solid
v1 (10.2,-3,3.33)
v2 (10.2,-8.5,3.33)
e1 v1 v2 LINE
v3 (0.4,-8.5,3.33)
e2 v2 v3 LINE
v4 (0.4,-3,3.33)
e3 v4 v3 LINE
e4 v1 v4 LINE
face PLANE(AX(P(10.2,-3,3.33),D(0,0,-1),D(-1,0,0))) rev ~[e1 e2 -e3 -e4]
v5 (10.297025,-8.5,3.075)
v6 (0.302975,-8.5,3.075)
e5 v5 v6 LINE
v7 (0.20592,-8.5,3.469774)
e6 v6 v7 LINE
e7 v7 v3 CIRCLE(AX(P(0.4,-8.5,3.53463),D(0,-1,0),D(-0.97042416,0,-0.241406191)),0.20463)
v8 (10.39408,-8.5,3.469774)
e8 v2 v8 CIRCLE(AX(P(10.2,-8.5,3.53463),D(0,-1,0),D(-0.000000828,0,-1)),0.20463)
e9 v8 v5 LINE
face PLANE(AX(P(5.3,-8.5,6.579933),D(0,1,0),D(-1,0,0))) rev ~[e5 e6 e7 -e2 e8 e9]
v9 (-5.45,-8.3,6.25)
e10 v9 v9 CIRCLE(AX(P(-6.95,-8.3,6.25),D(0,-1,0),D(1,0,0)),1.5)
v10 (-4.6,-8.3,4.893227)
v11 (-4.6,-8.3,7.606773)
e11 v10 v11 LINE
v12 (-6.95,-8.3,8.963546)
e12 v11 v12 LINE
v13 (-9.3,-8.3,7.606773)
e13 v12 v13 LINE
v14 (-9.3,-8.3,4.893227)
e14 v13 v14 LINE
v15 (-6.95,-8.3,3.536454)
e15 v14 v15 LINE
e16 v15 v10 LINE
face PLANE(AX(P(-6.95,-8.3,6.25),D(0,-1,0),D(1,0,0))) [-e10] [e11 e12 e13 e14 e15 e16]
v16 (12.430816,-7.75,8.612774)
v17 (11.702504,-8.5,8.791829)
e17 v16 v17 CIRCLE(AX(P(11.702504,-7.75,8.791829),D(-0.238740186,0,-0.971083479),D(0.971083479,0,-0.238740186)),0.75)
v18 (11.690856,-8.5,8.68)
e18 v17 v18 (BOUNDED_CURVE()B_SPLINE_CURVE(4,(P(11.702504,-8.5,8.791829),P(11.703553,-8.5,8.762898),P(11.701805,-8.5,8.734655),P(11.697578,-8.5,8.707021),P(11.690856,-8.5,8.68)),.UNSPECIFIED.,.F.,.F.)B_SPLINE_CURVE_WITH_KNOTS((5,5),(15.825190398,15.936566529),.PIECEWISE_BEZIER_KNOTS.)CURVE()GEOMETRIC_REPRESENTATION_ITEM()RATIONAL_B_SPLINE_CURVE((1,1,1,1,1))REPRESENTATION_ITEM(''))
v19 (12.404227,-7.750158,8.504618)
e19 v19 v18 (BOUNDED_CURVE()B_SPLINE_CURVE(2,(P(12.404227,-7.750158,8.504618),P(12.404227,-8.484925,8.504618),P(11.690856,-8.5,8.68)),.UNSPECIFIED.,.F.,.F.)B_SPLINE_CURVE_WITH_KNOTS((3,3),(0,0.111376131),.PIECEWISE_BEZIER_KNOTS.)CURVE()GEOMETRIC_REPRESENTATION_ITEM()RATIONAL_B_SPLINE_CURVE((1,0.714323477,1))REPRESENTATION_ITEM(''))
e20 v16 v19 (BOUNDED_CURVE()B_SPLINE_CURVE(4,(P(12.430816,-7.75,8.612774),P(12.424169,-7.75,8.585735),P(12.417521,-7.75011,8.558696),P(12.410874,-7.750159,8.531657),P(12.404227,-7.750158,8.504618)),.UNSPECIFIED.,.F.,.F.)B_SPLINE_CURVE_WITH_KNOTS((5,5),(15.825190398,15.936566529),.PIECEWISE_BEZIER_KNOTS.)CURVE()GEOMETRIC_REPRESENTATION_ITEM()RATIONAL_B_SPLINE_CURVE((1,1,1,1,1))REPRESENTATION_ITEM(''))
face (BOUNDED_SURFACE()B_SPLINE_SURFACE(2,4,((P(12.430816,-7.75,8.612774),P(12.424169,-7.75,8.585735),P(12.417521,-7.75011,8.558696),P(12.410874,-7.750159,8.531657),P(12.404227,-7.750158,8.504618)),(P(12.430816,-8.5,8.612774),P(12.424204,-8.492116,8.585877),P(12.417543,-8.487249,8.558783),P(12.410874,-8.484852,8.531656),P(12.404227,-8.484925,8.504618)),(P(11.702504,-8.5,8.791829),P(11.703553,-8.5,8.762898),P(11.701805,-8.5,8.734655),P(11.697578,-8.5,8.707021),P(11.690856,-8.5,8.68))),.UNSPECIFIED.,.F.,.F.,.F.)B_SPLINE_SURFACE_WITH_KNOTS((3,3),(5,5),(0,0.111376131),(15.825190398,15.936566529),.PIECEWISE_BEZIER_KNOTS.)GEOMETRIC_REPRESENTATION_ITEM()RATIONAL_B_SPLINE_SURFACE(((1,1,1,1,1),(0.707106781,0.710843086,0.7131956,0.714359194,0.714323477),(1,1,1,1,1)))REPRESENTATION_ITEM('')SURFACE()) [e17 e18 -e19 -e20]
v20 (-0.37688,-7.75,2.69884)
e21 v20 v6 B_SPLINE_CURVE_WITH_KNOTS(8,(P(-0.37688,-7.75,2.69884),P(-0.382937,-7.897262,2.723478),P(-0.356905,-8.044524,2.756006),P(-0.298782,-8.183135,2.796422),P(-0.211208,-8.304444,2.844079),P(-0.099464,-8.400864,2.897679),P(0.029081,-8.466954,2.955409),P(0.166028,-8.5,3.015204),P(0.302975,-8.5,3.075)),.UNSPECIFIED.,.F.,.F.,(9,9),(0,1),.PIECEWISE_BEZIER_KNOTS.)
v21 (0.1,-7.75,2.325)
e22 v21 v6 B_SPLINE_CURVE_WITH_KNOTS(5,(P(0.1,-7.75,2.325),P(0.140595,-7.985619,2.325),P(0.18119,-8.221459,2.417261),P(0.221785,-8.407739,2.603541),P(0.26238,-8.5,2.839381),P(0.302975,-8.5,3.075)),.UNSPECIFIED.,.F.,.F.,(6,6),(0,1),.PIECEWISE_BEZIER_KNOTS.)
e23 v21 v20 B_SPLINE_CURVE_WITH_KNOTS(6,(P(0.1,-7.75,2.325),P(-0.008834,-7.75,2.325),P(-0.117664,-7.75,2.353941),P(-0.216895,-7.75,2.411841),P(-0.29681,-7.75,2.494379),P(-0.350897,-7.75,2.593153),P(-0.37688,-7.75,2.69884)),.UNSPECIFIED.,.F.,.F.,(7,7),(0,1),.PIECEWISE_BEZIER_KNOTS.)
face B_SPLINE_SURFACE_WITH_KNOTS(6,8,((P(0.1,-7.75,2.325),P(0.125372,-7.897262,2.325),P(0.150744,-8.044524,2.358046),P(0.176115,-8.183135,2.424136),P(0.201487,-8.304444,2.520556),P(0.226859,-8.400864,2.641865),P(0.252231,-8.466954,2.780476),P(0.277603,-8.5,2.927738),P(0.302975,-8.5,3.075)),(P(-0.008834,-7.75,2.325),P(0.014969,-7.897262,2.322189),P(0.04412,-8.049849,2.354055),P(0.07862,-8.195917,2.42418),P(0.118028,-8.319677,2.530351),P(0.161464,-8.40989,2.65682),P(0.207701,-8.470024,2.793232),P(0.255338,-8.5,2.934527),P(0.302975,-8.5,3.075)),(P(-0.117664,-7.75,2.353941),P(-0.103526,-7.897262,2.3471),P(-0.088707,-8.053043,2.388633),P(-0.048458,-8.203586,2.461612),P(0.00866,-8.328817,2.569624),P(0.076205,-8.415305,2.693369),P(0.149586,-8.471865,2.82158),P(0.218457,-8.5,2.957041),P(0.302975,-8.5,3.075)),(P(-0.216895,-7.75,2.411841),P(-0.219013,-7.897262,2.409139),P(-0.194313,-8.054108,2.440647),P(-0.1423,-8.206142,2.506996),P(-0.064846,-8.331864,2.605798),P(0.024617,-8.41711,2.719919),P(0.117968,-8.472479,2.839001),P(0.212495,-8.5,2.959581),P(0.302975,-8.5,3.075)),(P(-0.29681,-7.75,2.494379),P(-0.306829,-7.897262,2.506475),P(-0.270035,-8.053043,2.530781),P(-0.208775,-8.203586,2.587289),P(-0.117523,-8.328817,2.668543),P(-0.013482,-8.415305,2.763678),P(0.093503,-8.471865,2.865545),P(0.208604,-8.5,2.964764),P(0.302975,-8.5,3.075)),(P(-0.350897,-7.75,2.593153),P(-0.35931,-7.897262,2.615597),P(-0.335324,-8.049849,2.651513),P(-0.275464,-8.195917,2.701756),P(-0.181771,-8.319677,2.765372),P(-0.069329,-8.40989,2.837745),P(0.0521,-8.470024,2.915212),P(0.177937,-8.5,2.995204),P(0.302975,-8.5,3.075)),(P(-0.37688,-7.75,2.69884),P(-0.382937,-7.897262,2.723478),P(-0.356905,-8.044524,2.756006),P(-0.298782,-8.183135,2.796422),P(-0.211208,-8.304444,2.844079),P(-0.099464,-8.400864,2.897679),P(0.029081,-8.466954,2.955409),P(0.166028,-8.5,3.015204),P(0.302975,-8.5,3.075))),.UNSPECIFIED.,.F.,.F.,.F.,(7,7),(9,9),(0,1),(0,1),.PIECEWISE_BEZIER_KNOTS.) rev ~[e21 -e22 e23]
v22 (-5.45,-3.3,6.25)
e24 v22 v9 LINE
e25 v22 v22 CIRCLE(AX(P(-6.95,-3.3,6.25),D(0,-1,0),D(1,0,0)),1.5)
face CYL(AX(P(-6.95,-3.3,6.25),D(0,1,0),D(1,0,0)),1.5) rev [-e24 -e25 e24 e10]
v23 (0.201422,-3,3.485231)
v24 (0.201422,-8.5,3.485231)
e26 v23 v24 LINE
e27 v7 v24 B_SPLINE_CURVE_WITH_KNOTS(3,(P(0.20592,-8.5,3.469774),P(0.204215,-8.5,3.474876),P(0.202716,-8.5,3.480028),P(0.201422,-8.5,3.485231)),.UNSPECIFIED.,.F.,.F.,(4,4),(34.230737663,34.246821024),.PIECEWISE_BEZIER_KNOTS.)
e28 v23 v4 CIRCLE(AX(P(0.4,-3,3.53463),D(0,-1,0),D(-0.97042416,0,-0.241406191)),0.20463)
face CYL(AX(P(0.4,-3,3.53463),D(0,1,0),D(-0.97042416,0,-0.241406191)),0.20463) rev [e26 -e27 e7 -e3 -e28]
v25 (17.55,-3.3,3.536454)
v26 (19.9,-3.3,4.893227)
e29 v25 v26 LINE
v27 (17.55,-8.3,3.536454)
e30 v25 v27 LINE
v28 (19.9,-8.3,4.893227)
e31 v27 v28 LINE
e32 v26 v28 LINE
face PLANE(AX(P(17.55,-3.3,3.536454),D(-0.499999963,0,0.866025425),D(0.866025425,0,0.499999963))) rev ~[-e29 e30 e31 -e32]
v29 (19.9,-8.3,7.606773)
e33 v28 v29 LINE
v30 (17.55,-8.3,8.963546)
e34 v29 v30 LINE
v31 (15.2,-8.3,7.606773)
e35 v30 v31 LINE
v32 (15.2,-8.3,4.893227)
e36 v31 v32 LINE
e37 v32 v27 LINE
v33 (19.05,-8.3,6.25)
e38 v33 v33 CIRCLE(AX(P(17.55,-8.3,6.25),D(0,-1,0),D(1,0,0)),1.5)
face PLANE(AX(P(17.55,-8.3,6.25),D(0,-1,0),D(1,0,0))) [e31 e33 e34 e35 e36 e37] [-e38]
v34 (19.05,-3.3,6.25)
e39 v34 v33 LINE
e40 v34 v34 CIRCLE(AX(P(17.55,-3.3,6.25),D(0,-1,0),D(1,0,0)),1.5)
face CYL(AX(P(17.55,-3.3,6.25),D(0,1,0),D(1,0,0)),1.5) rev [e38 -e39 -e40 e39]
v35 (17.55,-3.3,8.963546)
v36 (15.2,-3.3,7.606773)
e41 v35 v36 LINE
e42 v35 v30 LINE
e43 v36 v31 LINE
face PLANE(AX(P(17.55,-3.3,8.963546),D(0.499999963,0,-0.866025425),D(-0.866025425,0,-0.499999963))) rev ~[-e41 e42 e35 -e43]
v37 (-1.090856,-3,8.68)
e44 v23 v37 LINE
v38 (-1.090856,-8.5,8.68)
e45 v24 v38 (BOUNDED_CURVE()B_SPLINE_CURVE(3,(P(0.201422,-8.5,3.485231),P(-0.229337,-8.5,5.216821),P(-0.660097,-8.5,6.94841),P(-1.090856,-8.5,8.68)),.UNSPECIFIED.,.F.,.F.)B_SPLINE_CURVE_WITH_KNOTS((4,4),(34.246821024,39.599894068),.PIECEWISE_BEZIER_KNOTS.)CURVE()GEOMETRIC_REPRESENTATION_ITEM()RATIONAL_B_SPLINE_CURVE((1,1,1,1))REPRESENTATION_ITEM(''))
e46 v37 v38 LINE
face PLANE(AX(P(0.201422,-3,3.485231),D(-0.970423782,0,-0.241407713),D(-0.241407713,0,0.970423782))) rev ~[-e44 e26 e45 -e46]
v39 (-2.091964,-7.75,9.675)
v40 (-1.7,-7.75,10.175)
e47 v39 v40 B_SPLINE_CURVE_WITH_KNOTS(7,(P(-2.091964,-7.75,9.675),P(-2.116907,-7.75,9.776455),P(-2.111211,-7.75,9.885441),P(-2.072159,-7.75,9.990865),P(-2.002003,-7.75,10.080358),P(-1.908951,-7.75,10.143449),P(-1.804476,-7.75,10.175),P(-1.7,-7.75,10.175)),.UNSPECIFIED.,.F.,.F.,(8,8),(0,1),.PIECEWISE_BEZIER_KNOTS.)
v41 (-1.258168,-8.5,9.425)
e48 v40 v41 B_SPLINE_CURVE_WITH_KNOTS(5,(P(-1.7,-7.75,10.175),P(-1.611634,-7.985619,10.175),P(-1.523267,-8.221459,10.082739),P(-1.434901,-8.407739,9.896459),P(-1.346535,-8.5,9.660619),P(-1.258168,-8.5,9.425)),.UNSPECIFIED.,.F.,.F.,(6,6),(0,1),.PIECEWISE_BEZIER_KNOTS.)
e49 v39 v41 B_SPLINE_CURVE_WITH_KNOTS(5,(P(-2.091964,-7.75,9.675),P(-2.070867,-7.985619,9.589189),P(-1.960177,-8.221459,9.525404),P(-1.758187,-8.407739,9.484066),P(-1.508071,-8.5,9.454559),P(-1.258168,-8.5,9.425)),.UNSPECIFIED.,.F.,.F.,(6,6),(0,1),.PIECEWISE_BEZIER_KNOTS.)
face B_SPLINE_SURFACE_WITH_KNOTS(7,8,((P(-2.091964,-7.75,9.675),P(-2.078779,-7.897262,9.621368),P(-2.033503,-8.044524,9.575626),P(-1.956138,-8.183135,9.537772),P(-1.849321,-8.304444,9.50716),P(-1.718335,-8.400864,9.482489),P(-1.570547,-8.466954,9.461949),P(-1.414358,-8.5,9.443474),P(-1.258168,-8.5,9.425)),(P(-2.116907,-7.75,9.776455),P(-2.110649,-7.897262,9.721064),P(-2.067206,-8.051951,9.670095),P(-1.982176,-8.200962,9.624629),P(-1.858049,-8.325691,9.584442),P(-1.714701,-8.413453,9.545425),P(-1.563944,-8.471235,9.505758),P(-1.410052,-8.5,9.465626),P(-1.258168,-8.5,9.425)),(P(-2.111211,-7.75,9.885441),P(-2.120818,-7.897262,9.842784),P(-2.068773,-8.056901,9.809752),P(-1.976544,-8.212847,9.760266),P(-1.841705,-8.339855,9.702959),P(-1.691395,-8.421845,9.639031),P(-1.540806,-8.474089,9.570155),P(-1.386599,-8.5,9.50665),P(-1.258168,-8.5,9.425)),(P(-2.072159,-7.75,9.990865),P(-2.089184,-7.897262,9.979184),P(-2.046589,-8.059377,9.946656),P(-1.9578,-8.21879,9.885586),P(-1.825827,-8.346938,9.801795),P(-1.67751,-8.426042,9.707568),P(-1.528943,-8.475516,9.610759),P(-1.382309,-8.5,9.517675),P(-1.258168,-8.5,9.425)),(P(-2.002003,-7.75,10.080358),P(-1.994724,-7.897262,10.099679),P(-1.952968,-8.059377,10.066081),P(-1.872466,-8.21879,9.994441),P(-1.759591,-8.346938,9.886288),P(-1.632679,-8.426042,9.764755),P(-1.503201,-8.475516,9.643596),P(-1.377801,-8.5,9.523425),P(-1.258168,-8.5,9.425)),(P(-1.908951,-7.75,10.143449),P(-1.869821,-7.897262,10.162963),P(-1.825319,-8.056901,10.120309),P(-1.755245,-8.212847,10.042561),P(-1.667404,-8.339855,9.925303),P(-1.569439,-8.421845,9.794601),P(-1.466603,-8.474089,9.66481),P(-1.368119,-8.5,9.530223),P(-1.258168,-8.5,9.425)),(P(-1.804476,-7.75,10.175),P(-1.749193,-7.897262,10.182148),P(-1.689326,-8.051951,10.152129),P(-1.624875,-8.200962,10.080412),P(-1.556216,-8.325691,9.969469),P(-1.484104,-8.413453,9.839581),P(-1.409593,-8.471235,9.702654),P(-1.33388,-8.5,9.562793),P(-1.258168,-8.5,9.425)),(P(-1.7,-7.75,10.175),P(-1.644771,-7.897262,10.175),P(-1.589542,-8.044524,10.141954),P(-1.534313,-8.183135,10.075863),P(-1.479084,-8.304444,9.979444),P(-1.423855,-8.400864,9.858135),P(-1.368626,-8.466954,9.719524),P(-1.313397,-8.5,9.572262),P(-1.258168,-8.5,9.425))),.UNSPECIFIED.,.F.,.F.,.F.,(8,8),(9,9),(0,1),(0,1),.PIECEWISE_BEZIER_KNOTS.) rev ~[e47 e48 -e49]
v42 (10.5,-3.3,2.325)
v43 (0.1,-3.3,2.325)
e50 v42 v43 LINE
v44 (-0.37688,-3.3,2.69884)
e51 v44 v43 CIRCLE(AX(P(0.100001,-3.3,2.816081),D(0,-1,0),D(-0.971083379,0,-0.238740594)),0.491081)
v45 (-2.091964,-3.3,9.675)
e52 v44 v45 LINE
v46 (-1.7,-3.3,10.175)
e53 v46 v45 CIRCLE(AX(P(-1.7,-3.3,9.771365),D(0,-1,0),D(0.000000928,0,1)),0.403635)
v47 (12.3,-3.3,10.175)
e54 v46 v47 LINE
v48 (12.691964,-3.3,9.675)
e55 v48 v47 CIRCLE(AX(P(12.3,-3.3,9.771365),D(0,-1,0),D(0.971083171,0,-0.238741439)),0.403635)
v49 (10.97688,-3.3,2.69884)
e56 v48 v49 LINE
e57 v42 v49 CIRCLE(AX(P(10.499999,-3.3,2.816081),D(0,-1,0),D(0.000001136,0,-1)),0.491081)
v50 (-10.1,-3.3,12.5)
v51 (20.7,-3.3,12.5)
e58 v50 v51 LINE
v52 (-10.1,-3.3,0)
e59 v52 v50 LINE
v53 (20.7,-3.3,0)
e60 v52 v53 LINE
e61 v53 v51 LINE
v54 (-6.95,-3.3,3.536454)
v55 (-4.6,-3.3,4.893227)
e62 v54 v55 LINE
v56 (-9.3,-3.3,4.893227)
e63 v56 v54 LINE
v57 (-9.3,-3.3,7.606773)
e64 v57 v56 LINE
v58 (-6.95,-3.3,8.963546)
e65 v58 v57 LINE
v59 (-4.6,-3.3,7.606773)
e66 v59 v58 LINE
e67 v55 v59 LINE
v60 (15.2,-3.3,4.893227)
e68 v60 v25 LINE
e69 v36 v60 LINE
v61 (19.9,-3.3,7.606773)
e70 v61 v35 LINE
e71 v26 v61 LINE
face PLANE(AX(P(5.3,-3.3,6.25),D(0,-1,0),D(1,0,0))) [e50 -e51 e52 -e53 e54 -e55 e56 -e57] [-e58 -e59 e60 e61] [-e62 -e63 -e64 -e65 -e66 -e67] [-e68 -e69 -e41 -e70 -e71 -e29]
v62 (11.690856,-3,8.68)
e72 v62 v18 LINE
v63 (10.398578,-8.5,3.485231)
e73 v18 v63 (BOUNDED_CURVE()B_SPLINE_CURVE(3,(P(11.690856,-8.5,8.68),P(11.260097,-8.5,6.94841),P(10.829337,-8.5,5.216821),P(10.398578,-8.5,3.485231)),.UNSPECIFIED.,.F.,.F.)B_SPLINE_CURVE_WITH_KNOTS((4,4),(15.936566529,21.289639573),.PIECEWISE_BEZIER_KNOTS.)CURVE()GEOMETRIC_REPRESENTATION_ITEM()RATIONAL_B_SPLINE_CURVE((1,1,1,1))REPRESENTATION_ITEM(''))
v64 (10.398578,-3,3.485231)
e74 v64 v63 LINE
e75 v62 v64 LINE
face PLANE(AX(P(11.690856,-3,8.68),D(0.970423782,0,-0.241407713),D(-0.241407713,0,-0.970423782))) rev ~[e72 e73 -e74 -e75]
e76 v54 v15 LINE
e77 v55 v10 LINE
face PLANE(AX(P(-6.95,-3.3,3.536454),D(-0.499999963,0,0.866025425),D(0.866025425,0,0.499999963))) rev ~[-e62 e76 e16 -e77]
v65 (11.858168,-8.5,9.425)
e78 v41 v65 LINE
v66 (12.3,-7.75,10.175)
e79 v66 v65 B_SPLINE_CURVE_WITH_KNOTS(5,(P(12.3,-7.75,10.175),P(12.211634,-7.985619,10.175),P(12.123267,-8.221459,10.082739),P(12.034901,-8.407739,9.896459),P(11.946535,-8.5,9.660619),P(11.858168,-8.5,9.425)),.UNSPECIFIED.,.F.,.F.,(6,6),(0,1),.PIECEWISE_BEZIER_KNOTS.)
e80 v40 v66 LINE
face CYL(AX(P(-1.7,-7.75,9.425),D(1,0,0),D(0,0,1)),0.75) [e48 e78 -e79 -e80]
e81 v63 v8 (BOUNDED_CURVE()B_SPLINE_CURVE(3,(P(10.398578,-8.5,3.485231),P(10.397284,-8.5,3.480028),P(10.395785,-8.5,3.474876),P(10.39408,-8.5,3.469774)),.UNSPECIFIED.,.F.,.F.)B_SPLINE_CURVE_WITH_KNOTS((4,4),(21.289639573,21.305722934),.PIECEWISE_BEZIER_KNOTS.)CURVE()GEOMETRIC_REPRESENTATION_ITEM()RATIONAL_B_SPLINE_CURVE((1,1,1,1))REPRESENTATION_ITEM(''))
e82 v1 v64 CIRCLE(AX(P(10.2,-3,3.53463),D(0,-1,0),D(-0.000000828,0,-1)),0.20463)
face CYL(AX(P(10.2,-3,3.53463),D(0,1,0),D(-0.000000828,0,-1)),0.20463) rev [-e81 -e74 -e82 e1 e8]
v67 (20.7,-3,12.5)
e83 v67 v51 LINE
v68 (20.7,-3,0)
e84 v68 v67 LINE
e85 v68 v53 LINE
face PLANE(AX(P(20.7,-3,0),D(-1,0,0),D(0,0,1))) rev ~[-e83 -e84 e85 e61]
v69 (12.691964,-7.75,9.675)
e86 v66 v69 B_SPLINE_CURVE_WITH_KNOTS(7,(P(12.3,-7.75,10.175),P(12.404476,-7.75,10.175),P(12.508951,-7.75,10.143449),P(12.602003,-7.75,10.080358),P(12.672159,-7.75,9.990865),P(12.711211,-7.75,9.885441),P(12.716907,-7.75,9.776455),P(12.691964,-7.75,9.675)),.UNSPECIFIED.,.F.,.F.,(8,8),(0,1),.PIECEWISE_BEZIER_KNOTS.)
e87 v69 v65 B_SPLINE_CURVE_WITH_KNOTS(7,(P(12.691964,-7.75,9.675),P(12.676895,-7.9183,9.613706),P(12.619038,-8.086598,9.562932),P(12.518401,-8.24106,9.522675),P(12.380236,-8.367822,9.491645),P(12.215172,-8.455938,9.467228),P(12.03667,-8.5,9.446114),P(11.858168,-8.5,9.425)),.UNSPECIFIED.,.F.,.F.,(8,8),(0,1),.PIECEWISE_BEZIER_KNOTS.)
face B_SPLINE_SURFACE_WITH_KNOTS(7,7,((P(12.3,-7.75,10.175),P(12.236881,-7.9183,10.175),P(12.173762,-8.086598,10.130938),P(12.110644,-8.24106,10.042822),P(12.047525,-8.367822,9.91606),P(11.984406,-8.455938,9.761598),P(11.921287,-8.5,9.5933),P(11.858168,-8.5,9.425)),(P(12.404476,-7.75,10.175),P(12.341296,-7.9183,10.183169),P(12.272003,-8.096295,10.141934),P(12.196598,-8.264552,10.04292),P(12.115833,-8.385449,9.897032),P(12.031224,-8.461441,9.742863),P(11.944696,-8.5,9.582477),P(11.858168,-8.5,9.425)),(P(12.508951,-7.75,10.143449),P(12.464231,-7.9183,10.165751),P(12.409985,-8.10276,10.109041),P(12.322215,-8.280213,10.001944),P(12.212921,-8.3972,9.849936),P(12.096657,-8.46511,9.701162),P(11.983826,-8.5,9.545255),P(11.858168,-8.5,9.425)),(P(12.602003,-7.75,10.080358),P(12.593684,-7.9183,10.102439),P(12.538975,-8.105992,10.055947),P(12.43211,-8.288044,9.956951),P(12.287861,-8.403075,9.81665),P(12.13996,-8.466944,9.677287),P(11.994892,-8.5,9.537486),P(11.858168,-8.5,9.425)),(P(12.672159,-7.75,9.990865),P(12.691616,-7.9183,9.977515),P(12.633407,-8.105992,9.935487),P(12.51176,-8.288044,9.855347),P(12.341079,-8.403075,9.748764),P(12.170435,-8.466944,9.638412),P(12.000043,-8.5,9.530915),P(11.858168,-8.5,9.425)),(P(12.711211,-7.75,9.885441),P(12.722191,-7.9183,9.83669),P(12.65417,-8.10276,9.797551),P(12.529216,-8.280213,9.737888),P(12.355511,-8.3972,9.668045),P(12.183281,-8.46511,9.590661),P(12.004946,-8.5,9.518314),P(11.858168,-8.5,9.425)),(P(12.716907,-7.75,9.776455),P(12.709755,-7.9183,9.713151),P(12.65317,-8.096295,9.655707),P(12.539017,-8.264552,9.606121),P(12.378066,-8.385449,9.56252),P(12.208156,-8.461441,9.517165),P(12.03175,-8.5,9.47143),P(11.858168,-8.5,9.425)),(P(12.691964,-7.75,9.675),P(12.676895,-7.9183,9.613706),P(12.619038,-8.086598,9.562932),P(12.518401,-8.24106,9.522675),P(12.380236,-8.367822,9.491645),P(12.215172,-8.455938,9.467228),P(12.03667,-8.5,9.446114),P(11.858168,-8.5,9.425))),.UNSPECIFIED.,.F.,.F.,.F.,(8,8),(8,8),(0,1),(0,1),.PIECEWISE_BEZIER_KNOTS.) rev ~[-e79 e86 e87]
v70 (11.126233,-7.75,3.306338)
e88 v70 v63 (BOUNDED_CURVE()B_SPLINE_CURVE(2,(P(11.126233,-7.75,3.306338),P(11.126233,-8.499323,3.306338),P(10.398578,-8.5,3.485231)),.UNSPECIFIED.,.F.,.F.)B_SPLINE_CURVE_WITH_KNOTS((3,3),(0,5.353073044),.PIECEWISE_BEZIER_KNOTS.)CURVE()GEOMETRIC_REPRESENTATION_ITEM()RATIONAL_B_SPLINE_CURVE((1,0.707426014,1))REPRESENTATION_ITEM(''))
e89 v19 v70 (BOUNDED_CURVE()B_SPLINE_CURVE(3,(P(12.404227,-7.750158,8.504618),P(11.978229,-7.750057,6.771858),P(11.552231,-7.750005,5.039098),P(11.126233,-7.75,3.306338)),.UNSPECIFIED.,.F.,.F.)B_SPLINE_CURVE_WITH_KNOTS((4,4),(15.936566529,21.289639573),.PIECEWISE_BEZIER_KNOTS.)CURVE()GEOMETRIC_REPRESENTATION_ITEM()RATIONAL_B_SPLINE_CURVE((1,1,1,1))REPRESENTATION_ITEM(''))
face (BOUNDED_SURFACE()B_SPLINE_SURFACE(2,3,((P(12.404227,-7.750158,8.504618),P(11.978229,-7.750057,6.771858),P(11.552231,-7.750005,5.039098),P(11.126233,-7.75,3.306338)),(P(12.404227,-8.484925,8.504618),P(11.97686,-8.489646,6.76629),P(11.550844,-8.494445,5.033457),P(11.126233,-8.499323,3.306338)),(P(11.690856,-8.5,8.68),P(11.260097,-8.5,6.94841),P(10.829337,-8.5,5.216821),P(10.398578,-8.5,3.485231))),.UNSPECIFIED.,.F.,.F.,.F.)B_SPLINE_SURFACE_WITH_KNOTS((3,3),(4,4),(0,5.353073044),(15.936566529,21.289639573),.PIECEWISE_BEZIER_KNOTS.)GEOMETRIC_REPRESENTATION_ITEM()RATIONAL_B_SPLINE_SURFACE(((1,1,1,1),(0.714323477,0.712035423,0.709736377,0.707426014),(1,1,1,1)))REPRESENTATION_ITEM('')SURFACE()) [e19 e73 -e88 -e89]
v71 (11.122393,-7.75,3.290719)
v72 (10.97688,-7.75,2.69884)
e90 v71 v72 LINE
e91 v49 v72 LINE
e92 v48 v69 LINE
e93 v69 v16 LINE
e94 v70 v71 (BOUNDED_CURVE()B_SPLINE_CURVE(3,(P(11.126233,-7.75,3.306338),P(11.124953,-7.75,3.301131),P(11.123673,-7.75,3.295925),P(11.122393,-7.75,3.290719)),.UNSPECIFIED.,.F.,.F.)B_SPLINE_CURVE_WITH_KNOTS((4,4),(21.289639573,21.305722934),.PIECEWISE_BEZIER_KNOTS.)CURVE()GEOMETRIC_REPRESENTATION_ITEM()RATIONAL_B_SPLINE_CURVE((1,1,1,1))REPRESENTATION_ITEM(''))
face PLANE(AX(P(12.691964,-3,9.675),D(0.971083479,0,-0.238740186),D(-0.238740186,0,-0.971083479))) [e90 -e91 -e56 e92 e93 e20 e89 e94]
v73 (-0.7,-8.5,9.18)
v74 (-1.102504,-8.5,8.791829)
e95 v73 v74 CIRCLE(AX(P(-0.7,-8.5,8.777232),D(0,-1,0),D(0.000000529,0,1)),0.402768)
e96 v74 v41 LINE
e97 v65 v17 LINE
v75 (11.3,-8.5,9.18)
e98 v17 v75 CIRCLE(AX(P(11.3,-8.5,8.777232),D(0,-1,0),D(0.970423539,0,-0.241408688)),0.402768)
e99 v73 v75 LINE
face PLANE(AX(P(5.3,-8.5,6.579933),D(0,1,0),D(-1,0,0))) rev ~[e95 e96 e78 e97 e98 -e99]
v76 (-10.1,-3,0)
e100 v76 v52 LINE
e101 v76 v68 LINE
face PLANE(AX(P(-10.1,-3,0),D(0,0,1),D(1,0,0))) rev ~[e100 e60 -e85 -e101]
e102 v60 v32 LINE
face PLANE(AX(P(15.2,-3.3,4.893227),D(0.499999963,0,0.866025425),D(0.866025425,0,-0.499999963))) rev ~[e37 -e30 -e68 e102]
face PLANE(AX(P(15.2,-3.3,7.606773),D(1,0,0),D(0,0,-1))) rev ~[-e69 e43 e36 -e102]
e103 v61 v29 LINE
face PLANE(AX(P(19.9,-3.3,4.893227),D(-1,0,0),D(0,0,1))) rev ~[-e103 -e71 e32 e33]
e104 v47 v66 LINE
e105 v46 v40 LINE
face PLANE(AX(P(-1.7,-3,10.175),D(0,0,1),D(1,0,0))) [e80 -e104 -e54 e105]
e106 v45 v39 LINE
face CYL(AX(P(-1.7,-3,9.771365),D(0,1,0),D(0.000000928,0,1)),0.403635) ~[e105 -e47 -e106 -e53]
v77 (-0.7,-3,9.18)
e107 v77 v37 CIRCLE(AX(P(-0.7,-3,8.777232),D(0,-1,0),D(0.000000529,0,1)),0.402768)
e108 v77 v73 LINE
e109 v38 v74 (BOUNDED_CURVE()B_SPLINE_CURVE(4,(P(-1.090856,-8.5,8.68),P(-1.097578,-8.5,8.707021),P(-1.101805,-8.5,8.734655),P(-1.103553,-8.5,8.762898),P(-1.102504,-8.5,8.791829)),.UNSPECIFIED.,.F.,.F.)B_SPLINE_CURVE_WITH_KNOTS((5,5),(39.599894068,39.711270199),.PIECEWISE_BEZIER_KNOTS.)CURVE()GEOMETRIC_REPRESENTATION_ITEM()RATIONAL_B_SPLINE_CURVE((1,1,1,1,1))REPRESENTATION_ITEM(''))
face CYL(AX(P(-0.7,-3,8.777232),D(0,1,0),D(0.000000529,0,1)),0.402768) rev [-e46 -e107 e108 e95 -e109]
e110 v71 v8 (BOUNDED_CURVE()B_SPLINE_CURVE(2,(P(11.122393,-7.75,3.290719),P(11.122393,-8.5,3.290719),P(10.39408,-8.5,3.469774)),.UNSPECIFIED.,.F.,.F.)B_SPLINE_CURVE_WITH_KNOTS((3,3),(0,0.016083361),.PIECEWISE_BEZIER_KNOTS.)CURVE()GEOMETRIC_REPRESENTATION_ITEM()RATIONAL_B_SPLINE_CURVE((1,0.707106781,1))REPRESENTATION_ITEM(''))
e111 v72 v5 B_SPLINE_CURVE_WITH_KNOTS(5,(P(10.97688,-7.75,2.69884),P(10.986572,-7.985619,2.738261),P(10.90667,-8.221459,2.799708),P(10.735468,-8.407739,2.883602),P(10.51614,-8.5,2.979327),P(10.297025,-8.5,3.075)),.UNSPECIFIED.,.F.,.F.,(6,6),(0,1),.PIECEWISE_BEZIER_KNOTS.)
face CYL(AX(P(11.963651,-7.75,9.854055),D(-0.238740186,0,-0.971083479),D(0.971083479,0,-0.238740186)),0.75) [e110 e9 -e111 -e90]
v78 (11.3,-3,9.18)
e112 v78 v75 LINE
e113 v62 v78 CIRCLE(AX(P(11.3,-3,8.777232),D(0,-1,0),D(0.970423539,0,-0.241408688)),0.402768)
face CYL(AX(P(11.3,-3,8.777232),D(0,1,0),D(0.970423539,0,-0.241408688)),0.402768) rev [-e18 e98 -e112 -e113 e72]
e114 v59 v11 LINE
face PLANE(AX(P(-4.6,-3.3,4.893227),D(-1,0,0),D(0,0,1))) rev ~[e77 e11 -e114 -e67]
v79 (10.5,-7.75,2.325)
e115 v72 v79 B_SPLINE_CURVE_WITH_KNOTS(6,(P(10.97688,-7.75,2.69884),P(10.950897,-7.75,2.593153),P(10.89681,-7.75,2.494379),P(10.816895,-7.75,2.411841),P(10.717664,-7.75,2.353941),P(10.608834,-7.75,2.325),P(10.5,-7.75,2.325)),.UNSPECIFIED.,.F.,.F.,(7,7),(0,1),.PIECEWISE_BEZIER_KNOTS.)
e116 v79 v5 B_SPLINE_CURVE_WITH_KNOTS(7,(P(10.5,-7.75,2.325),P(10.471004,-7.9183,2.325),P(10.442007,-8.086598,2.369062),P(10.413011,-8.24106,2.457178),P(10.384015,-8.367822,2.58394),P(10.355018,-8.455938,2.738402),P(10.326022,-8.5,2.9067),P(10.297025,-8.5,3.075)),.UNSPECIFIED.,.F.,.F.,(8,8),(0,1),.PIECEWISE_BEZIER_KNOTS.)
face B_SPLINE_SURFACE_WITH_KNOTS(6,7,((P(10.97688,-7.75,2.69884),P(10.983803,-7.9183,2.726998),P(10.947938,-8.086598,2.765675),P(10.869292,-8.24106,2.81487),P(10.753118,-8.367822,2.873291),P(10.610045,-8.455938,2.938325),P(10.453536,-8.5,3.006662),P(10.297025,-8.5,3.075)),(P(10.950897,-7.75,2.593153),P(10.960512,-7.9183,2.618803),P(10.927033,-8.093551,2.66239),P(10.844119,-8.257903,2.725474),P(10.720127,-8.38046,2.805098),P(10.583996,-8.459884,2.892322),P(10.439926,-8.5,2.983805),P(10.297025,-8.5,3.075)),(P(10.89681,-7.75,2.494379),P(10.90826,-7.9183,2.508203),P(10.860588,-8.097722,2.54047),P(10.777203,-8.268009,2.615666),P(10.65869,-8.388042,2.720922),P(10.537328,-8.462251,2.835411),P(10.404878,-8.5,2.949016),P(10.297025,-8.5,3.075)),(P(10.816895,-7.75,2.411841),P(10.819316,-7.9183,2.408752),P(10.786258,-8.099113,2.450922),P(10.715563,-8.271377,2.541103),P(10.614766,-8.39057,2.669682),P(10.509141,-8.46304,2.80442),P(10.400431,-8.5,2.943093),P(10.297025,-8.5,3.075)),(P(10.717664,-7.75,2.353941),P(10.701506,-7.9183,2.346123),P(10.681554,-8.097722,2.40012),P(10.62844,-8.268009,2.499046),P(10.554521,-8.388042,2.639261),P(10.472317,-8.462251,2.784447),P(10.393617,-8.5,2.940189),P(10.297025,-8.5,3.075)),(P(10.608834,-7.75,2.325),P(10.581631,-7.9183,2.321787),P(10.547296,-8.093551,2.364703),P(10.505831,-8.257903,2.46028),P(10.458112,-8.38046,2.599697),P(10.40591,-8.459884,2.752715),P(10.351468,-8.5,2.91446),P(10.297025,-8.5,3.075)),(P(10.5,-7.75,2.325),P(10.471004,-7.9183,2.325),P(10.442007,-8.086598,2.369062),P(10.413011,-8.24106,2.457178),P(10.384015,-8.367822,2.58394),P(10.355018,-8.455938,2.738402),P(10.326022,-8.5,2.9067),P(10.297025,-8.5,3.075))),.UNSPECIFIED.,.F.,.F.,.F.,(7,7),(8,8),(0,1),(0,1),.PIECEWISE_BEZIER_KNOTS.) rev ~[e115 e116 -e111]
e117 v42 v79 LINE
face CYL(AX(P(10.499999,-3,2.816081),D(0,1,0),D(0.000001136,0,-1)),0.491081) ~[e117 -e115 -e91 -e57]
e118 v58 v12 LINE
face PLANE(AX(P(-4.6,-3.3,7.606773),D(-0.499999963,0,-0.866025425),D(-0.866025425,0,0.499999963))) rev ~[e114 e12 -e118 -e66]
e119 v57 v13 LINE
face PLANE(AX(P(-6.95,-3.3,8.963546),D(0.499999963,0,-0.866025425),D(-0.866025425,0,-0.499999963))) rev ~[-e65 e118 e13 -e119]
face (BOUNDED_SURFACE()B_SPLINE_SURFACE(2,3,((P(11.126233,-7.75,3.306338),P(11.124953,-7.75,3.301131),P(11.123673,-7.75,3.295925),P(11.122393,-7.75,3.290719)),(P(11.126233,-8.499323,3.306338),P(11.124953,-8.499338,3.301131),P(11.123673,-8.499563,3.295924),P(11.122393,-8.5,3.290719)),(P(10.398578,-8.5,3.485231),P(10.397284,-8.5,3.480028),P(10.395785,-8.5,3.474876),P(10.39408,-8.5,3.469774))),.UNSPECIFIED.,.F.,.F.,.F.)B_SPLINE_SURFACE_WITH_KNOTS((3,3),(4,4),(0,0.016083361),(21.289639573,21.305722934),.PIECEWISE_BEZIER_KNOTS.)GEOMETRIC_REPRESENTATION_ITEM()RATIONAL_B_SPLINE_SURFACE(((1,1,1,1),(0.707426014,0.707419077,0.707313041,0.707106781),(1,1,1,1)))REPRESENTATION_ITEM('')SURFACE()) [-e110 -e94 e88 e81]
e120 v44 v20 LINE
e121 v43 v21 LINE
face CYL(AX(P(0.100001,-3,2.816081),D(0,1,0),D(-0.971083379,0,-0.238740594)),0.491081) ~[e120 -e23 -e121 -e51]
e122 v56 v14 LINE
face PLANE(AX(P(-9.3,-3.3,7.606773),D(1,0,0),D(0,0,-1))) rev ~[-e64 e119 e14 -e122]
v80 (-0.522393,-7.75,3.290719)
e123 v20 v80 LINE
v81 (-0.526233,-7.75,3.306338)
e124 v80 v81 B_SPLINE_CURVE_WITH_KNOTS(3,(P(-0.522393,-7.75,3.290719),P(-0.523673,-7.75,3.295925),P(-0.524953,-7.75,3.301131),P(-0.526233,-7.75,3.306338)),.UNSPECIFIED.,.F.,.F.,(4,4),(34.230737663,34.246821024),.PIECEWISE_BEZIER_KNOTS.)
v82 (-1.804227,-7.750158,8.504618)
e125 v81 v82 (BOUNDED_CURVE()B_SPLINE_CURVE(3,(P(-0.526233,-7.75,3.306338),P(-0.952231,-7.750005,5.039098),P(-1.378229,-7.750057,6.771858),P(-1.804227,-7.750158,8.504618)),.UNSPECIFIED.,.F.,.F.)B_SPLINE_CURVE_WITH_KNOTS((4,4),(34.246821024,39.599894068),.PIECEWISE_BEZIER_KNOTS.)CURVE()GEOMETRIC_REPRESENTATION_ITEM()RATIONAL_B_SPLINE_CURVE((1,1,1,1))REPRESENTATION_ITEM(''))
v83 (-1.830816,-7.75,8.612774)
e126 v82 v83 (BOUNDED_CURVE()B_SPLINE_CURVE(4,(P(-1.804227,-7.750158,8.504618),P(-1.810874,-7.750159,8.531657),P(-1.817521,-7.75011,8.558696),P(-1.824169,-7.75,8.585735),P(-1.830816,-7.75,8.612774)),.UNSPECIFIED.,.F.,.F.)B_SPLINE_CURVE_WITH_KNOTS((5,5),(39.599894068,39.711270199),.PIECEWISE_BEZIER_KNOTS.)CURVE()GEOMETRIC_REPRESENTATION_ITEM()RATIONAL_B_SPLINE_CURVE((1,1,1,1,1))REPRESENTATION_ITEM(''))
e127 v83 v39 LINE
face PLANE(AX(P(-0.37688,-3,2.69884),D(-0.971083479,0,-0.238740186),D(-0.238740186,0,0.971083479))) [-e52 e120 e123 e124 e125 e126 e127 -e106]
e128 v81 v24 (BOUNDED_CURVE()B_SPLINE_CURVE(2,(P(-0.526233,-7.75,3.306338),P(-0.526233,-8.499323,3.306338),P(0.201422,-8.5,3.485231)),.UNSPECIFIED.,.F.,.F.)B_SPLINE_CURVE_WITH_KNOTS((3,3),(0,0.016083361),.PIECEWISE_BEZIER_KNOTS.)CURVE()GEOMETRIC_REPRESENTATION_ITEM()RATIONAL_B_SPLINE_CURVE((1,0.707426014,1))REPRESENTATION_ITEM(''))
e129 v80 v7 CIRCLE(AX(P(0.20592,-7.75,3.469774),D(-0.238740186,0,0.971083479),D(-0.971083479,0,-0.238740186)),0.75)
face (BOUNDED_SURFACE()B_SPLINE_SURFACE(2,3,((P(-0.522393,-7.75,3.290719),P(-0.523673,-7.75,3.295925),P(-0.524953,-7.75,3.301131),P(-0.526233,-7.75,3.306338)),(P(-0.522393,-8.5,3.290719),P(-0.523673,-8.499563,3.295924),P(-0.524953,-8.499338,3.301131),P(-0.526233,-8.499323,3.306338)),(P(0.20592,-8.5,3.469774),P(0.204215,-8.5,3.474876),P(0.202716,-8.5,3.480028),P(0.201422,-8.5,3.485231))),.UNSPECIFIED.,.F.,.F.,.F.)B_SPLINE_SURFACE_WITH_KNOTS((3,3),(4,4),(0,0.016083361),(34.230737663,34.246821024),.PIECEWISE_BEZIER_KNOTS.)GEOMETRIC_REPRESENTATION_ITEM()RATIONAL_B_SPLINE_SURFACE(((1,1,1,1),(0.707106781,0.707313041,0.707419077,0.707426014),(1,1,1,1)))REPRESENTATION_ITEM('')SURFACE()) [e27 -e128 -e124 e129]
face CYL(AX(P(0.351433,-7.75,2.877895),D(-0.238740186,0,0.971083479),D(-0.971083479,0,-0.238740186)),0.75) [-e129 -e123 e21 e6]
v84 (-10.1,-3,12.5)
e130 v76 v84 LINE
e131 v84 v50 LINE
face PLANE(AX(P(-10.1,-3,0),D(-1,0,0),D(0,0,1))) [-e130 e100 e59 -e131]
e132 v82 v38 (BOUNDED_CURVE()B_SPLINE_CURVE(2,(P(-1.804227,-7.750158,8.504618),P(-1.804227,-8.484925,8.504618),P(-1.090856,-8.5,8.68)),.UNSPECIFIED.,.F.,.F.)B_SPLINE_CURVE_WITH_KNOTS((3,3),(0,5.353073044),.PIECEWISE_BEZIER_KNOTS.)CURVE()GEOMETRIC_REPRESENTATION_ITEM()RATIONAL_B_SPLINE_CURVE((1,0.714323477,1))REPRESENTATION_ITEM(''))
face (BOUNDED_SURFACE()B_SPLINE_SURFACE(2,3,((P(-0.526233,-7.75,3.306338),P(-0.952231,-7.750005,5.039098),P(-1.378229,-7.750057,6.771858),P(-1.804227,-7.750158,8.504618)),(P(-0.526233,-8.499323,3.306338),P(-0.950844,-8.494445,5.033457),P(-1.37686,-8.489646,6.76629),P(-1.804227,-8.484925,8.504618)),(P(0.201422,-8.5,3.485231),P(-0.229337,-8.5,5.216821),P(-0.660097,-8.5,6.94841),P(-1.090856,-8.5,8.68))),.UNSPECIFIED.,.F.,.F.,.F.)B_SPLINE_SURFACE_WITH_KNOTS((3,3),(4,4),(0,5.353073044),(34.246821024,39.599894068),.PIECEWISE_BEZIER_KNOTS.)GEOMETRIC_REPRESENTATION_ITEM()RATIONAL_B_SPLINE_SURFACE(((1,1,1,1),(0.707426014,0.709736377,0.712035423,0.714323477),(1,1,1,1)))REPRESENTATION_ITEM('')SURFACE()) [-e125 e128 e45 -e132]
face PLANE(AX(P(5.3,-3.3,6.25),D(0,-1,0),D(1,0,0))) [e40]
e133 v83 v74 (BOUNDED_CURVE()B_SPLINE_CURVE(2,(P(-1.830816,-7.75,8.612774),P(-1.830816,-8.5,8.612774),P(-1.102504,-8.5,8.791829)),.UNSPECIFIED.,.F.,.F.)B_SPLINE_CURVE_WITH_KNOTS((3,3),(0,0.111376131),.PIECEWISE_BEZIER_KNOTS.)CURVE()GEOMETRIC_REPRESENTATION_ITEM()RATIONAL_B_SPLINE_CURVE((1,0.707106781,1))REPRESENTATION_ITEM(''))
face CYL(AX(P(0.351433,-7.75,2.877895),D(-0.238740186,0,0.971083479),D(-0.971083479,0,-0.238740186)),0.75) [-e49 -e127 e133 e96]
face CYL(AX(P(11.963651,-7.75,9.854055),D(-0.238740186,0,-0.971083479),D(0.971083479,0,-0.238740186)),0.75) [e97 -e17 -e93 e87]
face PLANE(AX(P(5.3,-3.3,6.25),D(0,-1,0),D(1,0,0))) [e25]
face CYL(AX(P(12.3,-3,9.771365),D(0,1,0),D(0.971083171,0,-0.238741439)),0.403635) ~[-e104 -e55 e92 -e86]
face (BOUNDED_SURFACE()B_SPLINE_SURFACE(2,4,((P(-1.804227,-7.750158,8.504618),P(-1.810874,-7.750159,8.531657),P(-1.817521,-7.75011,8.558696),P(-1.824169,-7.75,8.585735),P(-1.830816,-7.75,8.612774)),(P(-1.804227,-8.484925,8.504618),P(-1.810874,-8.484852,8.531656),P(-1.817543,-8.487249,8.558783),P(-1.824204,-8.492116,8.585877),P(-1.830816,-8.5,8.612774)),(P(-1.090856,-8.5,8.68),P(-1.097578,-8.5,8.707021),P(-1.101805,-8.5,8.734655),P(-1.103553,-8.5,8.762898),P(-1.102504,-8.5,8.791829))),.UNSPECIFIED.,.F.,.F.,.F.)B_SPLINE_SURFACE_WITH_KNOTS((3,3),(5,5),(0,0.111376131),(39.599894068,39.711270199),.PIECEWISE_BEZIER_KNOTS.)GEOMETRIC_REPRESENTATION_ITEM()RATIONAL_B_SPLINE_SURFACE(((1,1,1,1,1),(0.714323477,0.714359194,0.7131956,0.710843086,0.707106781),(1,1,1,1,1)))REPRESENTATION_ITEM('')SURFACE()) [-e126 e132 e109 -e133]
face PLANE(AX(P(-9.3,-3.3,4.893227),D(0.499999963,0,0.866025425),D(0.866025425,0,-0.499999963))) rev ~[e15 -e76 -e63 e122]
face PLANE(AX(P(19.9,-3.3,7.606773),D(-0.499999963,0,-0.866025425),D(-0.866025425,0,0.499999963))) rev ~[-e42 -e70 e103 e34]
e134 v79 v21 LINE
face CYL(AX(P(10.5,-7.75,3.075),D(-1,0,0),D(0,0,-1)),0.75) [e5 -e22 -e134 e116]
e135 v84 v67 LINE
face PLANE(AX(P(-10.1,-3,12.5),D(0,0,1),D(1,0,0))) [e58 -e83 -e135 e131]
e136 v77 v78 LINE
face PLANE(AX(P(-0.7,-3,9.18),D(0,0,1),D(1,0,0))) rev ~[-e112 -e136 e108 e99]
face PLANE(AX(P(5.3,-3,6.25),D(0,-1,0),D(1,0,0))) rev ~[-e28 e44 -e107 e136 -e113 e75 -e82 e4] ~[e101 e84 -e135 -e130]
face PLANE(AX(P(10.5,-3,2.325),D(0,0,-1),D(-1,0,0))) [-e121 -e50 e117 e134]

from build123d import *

# Parameters (mm, degrees)
SKETCH092_W             = 30.8
SKETCH092_H             = 12.5
PAD112_DEPTH            = 0.3
POCKET002_DEPTH         = 0.3
PAD113_DEPTH            = 5.5
POCKET003_DEPTH         = 5.5
FILLET014_R             = 0.75
SKETCH011_R             = 1.5
PAD114_DEPTH            = 5
BODY029_PLACEMENT_ANGLE = 180


with BuildPart() as part:
    # Sketch092 → Pad112 (new body)
    with BuildSketch(Plane(origin=(0, 3, 0), x_dir=(-1, 0, 0), z_dir=(0, 1, 0))):
        with Locations((0, 6.25)):
            Rectangle(SKETCH092_W, SKETCH092_H)
    extrude(amount=PAD112_DEPTH)

    # Sketch091 → Pocket002 (cut)
    with BuildSketch(Plane(origin=(0, 3, 0), x_dir=(-1, 0, 0), z_dir=(0, 1, 0))):
        with BuildLine():
            Line((-7, 10.175), (7, 10.175))
            ThreePointArc((7.391964, 9.675), (7.317662, 10.020388), (7, 10.175))
            Line((7.391964, 9.675), (5.67688, 2.69884))
            ThreePointArc((5.2, 2.325), (5.502973, 2.4296), (5.67688, 2.69884))
            Line((5.2, 2.325), (-5.2, 2.325))
            ThreePointArc((-5.67688, 2.69884), (-5.502973, 2.4296), (-5.2, 2.325))
            Line((-5.67688, 2.69884), (-7.391964, 9.675))
            ThreePointArc((-7, 10.175), (-7.317662, 10.020388), (-7.391964, 9.675))
        make_face()
    extrude(amount=POCKET002_DEPTH, mode=Mode.SUBTRACT)

    # Sketch091 → Pad113 (join)
    with BuildSketch(Plane(origin=(0, 3, 0), x_dir=(-1, 0, 0), z_dir=(0, 1, 0))):
        with BuildLine():
            Line((-7, 10.175), (7, 10.175))
            ThreePointArc((7.391964, 9.675), (7.317662, 10.020388), (7, 10.175))
            Line((7.391964, 9.675), (5.67688, 2.69884))
            ThreePointArc((5.2, 2.325), (5.502973, 2.4296), (5.67688, 2.69884))
            Line((5.2, 2.325), (-5.2, 2.325))
            ThreePointArc((-5.67688, 2.69884), (-5.502973, 2.4296), (-5.2, 2.325))
            Line((-5.67688, 2.69884), (-7.391964, 9.675))
            ThreePointArc((-7, 10.175), (-7.317662, 10.020388), (-7.391964, 9.675))
        make_face()
    extrude(amount=PAD113_DEPTH)

    # Sketch093 → Pocket003 (cut)
    with BuildSketch(Plane(origin=(0, 3, 0), x_dir=(-1, 0, 0), z_dir=(0, 1, 0))):
        with BuildLine():
            Line((-6, 9.18), (6, 9.18))
            ThreePointArc((6.390856, 8.68), (6.31732, 9.025285), (6, 9.18))
            Line((6.390856, 8.68), (5.098578, 3.485231))
            ThreePointArc((4.9, 3.33), (5.026026, 3.373413), (5.098578, 3.485231))
            Line((4.9, 3.33), (-4.9, 3.33))
            ThreePointArc((-5.098578, 3.485231), (-5.026026, 3.373413), (-4.9, 3.33))
            Line((-5.098578, 3.485231), (-6.390856, 8.68))
            ThreePointArc((-6, 9.18), (-6.31732, 9.025285), (-6.390856, 8.68))
        make_face()
    extrude(amount=POCKET003_DEPTH, mode=Mode.SUBTRACT)

    # Fillet014
    fillet014_edges = [part.edges().sort_by_distance(p)[0] for p in [
        (0, 8.5, 10.175),
        (7.317662, 8.5, 10.020388),
        (6.534422, 8.5, 6.18692),
        (5.502973, 8.5, 2.4296),
        (0, 8.5, 2.325),
        (-5.502973, 8.5, 2.4296),
        (-6.534422, 8.5, 6.18692),
        (-7.317662, 8.5, 10.020388),
    ]]
    fillet(fillet014_edges, radius=FILLET014_R)

    # Sketch011 → Pad114 (join)
    with BuildSketch(Plane(origin=(0, 3.3, 0), x_dir=(-1, 0, 0), z_dir=(0, 1, 0))):
        Polygon((-9.9, 4.893227), (-9.9, 7.606773), (-12.25, 8.963546), (-14.6, 7.606773), (-14.6, 4.893227), (-12.25, 3.536454), align=None)
        with Locations((-12.25, 6.25)):
            Circle(SKETCH011_R, mode=Mode.SUBTRACT)
        Polygon((14.6, 4.893227), (14.6, 7.606773), (12.25, 8.963546), (9.9, 7.606773), (9.9, 4.893227), (12.25, 3.536454), align=None)
        with Locations((12.25, 6.25)):
            Circle(SKETCH011_R, mode=Mode.SUBTRACT)
    extrude(amount=PAD114_DEPTH)


with BuildPart() as part_1:
    # Body029 placement: moved
    add(part.part.moved(Location((5.3, 0, 0))).rotate(Axis((5.3, 0, 0), (0, 0, 1)), BODY029_PLACEMENT_ANGLE))


solid = part_1.part
